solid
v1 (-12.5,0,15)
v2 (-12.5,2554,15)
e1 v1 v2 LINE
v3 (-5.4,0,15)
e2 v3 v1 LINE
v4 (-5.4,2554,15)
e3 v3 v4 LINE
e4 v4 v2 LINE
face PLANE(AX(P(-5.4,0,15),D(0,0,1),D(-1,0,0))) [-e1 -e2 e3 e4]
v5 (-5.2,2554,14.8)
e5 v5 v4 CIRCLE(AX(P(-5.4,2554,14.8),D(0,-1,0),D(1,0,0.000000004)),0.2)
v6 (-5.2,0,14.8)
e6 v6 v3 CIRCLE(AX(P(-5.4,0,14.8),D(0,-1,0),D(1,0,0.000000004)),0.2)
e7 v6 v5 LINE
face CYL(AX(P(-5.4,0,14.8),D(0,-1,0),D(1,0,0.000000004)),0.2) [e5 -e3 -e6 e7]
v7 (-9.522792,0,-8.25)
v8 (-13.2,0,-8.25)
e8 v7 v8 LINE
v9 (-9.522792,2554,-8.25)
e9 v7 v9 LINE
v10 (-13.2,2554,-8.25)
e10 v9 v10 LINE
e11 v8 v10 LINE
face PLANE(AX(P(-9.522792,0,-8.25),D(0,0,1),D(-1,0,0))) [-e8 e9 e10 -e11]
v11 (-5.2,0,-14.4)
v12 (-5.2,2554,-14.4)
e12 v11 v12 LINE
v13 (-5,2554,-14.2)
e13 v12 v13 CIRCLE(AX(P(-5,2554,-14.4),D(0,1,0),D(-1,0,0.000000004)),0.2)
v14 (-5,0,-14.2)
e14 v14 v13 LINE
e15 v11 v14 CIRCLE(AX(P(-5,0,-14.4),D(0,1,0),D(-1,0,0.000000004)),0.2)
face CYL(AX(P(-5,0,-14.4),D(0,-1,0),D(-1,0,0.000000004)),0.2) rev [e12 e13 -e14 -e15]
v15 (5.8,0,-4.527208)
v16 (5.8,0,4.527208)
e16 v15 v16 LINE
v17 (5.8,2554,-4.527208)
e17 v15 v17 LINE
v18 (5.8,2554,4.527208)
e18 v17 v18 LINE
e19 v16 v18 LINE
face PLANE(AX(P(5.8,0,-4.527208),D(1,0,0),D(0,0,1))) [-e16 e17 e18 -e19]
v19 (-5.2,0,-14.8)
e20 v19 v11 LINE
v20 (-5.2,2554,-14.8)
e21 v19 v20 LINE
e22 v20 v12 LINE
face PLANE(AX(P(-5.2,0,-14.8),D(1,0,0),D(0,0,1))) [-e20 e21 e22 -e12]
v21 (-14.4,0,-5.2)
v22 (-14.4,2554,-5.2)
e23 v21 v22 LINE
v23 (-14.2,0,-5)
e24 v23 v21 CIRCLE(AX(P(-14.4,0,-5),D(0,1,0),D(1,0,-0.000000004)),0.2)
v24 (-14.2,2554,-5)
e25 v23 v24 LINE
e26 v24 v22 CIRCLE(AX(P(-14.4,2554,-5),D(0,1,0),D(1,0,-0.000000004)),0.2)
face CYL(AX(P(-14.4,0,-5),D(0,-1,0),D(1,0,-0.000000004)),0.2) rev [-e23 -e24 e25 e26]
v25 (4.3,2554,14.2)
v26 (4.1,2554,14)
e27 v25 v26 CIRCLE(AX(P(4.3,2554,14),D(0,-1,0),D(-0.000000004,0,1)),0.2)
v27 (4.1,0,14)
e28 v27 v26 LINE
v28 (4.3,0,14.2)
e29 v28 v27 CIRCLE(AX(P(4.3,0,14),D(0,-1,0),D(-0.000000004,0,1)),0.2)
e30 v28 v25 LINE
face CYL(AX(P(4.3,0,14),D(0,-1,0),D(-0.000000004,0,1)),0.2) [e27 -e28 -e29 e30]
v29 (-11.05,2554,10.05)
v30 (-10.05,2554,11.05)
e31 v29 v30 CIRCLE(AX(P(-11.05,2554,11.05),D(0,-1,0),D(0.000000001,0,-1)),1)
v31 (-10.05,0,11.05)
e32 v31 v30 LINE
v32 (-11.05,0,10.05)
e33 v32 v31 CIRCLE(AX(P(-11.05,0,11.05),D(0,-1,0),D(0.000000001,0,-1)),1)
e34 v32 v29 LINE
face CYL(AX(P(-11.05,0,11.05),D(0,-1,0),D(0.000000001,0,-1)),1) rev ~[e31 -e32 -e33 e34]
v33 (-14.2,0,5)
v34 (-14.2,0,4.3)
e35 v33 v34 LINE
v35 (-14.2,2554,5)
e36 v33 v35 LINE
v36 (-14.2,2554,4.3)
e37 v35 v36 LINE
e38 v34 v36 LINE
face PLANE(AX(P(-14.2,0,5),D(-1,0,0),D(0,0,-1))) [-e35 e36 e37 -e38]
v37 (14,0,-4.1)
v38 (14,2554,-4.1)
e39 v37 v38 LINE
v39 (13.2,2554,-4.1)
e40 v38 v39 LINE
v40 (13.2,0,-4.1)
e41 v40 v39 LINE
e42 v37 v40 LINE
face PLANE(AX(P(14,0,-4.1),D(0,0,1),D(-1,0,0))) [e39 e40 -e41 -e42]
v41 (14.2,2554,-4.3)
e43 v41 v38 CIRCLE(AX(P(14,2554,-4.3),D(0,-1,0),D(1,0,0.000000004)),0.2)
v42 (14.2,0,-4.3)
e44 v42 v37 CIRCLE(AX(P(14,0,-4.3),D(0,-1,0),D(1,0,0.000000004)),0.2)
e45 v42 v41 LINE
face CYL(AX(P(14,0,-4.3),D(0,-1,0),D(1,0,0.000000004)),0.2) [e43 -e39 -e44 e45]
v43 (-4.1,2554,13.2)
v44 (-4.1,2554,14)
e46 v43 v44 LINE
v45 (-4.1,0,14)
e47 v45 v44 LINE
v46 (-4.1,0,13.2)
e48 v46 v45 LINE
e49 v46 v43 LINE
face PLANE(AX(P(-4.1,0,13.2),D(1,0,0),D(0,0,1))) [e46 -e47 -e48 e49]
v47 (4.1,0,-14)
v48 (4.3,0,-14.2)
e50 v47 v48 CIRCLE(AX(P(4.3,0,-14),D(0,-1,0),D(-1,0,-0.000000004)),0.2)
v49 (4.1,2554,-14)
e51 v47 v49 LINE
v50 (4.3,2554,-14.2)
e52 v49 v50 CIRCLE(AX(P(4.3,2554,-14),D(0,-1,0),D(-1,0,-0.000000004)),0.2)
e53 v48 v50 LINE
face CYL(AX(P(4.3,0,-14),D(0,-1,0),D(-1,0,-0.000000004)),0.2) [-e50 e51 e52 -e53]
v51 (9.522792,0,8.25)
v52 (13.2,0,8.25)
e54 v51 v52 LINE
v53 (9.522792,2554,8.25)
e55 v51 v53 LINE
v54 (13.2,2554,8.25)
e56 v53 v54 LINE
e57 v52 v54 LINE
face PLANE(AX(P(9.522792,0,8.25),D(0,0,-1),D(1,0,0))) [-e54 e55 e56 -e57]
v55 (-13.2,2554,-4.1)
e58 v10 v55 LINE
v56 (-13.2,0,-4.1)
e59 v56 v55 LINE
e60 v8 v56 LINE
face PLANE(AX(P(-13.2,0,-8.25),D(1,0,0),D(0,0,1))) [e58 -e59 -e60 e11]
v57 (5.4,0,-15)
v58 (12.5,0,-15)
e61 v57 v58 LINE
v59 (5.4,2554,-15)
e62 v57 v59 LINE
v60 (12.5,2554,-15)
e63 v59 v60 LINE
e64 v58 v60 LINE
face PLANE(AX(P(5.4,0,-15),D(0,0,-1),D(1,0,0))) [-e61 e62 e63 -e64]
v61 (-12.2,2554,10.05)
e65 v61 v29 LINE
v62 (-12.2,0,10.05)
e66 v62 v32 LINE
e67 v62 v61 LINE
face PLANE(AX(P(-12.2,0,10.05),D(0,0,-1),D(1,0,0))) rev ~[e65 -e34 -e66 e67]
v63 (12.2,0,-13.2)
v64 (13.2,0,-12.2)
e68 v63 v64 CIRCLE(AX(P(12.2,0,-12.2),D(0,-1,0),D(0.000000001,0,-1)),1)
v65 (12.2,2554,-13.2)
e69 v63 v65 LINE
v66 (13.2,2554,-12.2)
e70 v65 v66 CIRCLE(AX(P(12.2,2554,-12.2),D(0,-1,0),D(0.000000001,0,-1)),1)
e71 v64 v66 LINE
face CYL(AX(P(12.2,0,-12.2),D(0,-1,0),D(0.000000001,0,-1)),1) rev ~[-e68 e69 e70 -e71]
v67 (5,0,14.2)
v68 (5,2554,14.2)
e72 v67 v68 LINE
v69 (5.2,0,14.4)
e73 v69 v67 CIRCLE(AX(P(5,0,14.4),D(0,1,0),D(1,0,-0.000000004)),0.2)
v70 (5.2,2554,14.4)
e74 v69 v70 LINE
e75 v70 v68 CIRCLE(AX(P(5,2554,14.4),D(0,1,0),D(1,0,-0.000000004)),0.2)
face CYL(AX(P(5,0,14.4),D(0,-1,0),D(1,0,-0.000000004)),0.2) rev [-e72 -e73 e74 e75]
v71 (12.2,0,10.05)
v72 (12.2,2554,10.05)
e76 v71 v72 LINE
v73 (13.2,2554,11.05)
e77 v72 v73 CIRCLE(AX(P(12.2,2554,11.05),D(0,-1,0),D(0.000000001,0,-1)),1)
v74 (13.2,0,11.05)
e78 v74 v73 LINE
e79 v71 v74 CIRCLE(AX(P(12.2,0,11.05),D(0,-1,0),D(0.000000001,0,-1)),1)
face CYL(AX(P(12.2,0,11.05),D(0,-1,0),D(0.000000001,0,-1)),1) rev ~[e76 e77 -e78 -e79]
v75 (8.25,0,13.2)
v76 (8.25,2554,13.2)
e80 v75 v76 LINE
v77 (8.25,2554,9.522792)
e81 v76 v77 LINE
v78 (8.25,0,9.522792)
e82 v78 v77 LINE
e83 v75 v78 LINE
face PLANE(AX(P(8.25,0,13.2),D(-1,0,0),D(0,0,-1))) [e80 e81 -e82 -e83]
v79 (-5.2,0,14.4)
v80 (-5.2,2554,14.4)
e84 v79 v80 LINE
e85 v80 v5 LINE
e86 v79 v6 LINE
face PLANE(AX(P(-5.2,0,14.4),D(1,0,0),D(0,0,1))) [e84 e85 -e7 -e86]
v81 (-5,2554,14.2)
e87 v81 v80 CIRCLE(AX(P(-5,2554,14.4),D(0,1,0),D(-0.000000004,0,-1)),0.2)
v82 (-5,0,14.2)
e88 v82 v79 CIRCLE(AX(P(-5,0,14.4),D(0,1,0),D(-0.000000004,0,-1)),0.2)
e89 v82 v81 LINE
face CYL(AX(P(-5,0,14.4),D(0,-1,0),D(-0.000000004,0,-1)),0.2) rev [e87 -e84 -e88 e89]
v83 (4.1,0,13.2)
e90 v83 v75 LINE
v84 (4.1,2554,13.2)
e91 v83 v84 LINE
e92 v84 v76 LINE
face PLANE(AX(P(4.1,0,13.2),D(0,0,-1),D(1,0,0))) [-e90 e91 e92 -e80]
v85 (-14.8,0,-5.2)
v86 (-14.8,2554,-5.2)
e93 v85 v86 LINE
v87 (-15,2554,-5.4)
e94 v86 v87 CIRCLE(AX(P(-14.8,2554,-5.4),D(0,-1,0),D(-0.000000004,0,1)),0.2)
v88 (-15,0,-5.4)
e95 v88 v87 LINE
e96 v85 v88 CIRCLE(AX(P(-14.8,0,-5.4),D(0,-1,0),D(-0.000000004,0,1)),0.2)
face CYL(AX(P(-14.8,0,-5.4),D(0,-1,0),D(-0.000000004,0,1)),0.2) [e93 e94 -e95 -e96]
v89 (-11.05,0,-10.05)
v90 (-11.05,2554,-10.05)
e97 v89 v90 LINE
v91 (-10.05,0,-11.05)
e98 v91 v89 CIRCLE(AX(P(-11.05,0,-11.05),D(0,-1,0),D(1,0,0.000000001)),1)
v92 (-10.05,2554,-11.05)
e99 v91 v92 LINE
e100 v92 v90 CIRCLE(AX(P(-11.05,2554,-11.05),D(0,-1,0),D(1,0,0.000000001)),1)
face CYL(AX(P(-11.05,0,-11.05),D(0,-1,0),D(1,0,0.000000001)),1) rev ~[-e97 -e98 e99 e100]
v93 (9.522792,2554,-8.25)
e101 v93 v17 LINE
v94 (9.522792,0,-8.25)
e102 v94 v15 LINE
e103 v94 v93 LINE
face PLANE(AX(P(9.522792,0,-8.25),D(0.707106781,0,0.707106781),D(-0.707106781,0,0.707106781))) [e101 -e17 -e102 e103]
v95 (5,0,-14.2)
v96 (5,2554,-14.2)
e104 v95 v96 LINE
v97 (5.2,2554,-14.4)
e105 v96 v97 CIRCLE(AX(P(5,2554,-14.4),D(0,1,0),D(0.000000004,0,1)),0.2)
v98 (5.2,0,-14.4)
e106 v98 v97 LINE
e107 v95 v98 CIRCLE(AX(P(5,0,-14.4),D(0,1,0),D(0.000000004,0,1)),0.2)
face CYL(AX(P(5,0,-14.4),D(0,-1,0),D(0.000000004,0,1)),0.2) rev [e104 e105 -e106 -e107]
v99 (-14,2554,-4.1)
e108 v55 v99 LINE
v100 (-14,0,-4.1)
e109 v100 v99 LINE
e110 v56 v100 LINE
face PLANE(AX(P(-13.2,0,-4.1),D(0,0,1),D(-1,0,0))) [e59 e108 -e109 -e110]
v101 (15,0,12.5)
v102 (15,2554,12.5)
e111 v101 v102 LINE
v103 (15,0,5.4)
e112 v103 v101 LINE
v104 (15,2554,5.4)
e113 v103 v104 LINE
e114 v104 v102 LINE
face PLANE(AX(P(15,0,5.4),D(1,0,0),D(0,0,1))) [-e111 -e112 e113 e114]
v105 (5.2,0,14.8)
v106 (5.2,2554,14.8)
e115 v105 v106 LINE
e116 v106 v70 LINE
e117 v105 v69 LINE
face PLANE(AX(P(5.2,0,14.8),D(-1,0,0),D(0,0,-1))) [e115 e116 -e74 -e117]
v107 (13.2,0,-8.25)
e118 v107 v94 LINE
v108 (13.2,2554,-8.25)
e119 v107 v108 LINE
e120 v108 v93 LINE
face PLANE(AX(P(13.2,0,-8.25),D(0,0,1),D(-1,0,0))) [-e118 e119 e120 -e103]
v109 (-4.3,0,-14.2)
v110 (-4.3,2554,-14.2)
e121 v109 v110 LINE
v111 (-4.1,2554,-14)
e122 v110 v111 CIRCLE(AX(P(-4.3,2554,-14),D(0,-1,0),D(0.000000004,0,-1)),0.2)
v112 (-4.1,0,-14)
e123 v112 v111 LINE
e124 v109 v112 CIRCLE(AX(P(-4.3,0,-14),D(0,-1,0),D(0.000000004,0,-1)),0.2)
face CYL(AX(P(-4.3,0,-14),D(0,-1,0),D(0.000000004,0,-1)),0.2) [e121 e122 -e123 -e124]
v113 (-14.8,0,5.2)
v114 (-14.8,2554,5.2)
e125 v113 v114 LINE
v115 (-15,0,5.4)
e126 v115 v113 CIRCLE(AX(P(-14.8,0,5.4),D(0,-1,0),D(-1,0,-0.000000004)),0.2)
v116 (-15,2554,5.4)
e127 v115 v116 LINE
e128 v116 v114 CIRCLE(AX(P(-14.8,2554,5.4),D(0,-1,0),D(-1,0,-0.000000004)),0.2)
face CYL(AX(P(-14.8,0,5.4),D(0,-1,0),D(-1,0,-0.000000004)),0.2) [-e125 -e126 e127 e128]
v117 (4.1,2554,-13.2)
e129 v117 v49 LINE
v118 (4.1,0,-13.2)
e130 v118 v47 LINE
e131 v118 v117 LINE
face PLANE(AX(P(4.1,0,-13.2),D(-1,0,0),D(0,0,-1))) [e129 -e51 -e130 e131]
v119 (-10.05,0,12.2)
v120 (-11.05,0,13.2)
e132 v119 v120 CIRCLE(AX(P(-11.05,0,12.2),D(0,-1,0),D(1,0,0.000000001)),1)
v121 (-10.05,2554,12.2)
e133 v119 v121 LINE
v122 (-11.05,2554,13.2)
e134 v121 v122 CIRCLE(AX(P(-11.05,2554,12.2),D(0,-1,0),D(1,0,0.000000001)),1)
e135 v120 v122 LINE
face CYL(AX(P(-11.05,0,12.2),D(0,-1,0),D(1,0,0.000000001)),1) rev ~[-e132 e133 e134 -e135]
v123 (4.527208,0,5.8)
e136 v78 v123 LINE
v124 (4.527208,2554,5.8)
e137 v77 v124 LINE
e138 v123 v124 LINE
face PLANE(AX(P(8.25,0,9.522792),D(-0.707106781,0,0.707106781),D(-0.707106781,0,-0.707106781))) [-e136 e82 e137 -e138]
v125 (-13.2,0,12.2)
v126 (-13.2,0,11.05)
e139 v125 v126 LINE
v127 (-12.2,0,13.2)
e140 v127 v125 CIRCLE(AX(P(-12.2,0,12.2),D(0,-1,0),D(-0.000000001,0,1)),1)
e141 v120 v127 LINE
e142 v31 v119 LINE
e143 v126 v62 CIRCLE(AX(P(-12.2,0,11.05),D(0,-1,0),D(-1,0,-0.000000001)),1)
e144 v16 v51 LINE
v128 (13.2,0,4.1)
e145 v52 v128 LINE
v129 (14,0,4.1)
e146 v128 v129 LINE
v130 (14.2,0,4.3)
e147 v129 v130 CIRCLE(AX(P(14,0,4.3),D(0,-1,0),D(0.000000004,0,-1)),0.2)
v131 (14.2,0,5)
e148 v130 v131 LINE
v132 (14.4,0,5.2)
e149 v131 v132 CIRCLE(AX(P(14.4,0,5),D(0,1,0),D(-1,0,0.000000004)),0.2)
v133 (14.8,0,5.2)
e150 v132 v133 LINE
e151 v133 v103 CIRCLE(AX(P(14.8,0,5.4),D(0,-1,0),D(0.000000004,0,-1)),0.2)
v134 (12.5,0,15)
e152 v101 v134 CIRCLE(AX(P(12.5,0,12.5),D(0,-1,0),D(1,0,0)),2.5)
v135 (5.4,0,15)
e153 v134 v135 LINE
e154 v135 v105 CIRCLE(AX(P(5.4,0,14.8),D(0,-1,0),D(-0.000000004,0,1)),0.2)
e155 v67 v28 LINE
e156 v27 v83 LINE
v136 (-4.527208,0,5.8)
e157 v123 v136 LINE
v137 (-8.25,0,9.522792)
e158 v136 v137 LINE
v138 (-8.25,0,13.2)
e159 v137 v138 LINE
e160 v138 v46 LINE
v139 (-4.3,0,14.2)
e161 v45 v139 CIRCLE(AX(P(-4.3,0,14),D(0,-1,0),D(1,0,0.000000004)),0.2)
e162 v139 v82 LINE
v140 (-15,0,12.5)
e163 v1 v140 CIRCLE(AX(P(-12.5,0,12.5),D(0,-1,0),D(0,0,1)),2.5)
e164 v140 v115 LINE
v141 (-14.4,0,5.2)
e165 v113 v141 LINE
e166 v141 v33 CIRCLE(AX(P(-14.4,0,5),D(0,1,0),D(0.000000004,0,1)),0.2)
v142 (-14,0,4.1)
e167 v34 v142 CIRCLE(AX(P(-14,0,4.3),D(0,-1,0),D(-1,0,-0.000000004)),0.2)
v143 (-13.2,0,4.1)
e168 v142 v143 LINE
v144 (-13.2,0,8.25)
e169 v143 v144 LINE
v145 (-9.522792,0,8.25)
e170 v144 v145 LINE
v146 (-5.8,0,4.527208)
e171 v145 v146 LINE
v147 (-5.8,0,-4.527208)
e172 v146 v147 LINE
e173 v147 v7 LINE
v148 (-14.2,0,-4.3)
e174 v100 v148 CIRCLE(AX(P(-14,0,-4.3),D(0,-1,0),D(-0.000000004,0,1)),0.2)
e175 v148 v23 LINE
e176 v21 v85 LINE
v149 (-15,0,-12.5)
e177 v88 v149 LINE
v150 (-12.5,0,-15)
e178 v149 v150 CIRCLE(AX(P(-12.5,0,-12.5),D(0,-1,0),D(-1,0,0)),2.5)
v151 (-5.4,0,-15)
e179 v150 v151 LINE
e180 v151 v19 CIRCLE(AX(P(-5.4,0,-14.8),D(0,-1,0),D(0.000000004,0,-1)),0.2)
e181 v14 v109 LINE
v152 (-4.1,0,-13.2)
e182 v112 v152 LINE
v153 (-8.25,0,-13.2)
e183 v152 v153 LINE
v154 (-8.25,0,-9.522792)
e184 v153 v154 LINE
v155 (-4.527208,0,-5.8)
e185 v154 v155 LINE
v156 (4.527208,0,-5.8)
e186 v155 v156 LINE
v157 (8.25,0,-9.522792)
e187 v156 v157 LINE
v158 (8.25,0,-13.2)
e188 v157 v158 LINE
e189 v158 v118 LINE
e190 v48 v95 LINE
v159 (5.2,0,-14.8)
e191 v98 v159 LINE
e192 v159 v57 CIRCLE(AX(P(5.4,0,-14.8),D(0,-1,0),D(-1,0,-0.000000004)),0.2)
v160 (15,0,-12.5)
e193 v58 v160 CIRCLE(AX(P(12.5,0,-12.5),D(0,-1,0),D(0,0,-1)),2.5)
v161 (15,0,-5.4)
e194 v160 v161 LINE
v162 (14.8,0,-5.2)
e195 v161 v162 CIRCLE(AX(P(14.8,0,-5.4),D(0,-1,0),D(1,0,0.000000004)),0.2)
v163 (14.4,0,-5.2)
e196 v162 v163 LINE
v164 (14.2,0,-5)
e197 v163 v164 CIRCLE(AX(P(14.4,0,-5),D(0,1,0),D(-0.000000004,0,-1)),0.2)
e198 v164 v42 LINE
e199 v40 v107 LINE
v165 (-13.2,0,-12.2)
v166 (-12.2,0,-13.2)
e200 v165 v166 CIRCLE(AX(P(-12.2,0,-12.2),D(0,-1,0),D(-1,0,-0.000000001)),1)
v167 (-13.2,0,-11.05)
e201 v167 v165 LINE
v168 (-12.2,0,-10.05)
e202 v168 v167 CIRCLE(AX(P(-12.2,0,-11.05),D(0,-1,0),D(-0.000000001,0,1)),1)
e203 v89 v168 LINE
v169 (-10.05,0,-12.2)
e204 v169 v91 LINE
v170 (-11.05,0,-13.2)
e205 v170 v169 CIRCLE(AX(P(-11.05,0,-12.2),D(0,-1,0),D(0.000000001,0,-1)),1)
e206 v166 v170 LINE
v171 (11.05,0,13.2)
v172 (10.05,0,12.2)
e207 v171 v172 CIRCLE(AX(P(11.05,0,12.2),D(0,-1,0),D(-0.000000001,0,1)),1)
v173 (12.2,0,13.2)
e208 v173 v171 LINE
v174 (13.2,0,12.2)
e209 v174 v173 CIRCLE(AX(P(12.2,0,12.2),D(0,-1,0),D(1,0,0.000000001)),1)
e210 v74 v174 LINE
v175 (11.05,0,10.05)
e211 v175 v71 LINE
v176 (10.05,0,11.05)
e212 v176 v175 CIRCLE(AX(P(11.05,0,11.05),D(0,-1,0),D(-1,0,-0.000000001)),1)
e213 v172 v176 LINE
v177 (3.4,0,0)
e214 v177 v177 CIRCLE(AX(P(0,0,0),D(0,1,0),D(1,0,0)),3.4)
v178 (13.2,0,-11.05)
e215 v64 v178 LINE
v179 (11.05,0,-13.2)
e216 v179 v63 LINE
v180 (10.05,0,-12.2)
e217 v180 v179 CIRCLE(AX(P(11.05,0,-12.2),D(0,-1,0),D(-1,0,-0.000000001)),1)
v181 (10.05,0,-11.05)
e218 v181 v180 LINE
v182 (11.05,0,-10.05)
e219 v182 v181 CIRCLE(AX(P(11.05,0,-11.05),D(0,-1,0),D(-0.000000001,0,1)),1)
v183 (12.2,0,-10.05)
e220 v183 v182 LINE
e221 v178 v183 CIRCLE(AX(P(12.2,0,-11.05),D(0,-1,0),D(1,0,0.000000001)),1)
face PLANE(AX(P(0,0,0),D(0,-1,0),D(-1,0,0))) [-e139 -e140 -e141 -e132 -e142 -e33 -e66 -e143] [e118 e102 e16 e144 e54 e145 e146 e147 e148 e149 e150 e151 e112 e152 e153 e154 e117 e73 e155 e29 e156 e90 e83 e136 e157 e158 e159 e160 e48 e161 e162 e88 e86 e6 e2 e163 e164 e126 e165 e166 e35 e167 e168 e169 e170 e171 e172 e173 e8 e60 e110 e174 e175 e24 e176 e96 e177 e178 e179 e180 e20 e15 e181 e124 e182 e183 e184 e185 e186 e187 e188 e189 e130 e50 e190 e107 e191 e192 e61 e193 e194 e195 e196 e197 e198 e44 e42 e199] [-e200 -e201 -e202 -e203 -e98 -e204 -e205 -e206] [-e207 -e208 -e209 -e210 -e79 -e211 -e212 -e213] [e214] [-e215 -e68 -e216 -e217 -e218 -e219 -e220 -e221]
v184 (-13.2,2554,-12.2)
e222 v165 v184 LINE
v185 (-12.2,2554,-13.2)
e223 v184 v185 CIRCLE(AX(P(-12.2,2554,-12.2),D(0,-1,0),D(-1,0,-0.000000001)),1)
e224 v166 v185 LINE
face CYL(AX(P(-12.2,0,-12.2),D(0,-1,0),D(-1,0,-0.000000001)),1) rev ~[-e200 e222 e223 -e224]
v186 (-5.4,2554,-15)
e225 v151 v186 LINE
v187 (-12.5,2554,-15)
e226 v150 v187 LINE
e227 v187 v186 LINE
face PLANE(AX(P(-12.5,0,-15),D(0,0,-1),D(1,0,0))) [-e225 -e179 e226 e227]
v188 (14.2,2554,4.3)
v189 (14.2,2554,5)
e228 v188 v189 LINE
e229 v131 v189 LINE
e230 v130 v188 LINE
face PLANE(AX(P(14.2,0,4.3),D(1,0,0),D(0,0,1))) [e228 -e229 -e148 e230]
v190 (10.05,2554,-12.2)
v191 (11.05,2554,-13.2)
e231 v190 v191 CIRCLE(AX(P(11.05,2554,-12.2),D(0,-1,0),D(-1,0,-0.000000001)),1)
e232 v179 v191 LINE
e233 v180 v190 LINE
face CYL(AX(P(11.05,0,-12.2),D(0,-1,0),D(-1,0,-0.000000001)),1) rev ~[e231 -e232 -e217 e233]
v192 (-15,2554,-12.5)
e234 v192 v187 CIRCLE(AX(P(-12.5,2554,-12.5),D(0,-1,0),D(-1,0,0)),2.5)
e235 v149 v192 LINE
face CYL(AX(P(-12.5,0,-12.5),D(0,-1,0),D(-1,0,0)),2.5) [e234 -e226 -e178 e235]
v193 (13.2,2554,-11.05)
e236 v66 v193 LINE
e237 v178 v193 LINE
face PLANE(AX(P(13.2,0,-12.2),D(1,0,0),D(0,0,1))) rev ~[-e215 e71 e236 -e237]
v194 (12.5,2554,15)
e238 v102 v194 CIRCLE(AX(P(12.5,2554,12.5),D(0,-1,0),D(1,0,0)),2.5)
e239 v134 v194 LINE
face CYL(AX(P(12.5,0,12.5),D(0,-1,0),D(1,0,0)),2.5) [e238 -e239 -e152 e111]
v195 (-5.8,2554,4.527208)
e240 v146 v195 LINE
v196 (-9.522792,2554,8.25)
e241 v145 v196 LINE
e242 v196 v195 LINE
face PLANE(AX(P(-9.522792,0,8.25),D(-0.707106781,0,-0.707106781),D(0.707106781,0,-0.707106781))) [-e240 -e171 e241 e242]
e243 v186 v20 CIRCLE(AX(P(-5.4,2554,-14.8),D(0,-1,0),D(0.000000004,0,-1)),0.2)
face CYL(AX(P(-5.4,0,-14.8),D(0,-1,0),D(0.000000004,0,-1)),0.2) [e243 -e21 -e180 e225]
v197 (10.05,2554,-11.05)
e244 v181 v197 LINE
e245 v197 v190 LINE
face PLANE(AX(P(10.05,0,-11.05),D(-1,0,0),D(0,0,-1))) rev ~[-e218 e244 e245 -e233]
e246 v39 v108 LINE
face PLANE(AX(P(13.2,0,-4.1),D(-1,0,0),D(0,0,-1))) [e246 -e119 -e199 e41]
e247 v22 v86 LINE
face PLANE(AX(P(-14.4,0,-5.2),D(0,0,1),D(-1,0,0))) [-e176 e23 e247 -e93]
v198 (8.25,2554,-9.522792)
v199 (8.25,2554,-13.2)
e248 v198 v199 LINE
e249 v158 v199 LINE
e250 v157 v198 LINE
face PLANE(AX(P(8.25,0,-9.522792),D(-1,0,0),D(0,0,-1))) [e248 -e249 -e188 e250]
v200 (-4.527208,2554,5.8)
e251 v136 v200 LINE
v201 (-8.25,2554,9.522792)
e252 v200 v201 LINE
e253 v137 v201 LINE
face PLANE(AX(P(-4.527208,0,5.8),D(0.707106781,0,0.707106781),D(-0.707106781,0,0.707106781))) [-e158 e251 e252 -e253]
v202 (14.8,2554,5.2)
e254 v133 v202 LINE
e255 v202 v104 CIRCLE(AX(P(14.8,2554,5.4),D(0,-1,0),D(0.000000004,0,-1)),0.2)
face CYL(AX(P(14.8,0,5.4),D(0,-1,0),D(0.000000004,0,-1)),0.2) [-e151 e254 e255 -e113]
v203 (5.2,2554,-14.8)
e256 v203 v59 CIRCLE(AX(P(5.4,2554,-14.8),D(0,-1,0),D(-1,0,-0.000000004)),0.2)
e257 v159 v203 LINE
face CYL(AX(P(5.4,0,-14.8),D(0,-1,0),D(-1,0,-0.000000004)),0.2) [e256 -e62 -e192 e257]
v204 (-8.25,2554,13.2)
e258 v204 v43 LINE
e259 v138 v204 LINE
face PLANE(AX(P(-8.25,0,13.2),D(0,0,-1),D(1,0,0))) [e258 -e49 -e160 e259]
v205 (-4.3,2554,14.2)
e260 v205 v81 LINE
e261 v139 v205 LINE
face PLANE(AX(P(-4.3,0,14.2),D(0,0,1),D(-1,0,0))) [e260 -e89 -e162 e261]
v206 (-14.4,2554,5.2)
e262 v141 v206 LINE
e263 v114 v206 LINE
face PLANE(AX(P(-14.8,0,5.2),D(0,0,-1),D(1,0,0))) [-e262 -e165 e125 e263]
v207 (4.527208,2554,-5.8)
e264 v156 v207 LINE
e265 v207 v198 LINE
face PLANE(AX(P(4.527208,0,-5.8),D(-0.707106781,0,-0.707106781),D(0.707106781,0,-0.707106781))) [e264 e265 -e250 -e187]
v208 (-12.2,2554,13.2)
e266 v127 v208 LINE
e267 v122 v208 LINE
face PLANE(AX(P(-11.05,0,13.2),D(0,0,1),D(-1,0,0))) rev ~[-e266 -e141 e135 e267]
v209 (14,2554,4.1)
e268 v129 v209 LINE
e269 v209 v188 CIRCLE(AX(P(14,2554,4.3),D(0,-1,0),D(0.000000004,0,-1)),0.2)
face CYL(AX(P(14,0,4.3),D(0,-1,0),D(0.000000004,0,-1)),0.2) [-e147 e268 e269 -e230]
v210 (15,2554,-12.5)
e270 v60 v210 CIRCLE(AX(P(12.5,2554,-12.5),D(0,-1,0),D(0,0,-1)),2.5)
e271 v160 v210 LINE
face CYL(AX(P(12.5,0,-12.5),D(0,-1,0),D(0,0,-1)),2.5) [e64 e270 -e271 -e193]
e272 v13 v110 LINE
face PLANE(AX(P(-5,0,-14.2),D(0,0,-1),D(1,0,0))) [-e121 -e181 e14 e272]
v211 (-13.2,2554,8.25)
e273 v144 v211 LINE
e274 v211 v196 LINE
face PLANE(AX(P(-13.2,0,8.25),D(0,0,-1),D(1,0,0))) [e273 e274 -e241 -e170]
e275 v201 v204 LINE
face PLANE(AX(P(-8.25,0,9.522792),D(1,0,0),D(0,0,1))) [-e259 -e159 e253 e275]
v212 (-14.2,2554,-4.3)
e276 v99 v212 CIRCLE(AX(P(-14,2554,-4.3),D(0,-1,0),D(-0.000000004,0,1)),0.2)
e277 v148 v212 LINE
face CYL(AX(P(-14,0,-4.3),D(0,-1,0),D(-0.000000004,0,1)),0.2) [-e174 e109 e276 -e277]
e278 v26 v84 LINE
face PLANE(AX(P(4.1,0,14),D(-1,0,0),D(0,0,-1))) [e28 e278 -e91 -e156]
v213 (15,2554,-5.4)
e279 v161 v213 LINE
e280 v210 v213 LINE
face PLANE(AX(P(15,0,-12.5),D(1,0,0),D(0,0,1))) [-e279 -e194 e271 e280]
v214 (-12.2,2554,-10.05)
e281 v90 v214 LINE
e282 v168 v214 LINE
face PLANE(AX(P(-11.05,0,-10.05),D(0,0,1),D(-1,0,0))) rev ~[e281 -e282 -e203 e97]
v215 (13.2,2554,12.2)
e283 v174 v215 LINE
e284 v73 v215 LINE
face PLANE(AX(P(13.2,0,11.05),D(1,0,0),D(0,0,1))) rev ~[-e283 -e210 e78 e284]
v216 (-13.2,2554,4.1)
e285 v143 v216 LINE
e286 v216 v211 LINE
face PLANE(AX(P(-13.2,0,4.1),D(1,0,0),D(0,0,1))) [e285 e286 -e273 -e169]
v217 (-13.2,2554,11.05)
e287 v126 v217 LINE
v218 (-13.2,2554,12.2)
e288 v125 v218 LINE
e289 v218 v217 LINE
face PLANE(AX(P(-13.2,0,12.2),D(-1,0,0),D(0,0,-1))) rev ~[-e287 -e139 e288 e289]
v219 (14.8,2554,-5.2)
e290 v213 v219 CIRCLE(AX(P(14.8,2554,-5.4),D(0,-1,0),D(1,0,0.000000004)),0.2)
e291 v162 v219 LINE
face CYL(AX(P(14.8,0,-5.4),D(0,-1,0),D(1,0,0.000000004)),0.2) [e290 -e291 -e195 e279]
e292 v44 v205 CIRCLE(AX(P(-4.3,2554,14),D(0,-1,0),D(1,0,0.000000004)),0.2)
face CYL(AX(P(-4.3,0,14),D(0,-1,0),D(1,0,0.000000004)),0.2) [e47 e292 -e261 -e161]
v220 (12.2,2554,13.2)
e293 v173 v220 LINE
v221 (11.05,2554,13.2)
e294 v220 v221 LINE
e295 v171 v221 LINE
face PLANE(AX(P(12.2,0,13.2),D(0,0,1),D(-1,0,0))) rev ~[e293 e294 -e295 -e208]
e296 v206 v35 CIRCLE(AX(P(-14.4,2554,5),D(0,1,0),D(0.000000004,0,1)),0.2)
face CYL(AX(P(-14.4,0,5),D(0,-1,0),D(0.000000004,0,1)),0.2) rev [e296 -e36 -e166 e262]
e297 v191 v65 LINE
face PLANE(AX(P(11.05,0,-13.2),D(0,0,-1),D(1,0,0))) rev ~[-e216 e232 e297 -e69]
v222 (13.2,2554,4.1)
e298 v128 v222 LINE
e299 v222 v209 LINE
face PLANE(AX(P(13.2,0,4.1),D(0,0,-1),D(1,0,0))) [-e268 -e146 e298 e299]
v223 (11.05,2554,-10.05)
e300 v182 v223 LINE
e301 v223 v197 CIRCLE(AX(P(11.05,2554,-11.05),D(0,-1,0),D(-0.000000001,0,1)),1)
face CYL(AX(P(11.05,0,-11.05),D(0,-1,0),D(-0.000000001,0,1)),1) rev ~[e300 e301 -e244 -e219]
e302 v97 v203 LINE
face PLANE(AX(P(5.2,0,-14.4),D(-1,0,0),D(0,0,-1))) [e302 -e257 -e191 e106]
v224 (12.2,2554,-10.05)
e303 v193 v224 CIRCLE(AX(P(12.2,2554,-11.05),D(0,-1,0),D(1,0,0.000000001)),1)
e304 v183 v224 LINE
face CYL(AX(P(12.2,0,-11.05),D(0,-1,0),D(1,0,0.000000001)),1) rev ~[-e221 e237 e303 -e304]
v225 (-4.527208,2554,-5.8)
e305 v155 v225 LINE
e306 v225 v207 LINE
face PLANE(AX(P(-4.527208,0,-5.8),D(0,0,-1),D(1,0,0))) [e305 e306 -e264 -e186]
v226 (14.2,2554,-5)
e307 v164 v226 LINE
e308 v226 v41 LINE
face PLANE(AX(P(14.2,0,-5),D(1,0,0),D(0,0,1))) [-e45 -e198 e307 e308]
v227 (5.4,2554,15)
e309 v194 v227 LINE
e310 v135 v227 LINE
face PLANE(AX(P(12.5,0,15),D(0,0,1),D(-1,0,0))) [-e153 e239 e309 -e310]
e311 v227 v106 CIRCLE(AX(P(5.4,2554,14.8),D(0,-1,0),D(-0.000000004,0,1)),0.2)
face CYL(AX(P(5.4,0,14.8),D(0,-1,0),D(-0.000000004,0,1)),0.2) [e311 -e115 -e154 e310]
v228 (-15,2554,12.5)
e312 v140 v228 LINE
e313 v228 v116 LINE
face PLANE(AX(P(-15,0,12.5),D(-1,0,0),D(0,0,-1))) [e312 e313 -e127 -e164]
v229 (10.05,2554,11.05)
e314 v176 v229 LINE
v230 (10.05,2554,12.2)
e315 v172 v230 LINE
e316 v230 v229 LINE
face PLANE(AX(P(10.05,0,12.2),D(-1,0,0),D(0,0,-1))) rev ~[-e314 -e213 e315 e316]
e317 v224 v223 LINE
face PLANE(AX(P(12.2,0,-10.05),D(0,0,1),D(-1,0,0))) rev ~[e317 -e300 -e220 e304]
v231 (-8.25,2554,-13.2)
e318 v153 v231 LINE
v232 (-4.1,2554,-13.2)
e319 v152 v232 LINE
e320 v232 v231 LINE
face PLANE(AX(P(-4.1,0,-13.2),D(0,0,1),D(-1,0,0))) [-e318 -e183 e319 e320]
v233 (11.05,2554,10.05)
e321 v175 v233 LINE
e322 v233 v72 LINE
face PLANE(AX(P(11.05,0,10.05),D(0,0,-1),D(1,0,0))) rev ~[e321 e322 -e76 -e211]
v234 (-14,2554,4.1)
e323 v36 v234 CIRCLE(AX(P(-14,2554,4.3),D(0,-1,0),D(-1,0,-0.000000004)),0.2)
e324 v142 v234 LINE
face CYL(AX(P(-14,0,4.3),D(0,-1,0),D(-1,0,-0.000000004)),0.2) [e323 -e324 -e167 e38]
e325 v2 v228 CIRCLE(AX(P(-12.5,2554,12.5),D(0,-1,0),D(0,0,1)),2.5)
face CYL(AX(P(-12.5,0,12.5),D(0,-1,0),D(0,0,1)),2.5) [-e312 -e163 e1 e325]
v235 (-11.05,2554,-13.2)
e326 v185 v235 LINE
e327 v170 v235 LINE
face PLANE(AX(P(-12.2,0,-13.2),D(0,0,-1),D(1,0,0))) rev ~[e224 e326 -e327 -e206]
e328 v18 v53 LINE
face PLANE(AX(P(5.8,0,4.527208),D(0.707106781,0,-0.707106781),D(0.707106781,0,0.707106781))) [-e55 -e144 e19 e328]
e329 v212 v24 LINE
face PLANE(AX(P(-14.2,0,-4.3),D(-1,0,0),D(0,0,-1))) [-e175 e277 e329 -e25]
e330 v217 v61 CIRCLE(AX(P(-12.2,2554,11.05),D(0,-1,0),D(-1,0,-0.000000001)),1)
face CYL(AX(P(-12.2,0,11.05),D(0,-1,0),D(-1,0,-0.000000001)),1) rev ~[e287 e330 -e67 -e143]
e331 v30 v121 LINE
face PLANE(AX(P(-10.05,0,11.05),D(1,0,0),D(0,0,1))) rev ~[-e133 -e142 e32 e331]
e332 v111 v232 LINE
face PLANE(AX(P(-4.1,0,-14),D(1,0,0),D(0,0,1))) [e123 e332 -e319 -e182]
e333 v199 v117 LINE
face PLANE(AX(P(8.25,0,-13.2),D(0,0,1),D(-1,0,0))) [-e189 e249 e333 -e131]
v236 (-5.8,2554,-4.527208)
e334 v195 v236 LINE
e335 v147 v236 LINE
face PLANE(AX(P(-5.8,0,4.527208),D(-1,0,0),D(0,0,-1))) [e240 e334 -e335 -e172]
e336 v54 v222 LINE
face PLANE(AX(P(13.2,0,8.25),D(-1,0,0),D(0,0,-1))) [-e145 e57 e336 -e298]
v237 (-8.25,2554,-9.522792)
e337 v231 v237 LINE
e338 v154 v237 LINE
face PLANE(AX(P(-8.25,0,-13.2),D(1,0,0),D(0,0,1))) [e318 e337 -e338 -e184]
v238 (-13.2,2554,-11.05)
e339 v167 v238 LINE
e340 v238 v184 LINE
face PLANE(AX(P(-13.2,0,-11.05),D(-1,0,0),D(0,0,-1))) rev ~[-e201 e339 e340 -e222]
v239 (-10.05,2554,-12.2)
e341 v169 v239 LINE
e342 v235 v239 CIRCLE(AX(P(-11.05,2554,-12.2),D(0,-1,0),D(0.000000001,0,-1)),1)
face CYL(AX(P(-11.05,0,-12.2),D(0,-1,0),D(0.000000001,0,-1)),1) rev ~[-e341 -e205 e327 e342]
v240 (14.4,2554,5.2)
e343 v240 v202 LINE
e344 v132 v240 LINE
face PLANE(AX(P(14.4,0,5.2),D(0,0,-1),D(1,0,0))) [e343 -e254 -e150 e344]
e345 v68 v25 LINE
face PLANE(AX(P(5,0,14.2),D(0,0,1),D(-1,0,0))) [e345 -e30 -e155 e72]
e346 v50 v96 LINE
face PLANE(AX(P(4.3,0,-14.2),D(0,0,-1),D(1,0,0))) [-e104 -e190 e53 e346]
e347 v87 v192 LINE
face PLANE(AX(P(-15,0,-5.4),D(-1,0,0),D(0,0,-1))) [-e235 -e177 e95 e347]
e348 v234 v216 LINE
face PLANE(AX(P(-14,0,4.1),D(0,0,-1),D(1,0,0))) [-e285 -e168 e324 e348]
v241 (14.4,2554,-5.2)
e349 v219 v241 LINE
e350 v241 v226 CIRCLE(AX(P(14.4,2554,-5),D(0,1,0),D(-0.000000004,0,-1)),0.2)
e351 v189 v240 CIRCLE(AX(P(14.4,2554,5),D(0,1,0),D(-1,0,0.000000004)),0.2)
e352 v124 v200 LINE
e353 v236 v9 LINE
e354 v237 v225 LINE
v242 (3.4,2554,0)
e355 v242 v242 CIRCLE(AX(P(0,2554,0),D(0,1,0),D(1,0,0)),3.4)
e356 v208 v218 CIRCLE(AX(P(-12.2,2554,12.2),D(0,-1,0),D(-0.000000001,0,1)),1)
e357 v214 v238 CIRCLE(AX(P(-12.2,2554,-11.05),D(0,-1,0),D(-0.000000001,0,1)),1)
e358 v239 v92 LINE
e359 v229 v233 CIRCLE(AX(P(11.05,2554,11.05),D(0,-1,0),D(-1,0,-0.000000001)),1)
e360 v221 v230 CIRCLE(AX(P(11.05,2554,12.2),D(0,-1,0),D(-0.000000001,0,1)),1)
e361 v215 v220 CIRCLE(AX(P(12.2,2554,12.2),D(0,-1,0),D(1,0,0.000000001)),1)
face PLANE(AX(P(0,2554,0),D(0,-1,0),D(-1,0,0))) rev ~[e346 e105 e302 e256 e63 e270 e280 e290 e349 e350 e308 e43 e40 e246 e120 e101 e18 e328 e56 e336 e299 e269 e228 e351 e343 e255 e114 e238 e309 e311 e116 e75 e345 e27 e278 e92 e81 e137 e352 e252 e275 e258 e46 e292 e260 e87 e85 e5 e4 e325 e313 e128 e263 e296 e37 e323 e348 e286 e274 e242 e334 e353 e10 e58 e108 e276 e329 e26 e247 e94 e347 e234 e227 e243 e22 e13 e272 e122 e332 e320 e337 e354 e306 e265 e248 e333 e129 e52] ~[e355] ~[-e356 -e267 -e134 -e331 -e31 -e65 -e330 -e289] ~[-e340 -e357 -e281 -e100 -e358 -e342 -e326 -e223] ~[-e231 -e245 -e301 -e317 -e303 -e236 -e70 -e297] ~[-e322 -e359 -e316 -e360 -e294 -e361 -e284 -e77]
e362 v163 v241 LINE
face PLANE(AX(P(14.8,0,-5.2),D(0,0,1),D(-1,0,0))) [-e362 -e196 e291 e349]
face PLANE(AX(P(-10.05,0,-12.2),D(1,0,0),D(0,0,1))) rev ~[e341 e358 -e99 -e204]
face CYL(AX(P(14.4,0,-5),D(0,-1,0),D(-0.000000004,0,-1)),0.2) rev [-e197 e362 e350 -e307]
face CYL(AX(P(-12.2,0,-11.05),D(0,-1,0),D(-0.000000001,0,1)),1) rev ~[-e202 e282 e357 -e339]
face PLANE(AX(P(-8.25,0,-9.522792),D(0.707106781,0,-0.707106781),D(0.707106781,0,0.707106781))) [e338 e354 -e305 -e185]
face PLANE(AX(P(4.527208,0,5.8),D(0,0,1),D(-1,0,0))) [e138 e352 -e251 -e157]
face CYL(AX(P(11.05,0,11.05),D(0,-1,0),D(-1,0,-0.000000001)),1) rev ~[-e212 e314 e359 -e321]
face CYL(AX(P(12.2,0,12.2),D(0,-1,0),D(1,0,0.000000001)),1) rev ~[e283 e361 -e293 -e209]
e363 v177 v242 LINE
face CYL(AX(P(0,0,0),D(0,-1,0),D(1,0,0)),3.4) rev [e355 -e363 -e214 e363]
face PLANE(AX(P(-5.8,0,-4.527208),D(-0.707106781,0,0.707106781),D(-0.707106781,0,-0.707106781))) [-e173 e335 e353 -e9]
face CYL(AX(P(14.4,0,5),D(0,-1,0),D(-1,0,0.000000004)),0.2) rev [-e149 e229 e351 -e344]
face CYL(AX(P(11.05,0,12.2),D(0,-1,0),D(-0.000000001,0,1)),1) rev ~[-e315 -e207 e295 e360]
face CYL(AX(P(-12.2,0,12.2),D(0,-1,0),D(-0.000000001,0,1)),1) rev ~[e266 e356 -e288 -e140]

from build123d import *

# Parameters (mm, degrees)
SKETCH_3_R      = 3.4
EXTRUDE_1_DEPTH = 2554


with BuildPart() as part:
    # 草图3 → 凸台-拉伸1 (new body)
    with BuildSketch(Plane(origin=(0, 0, 0), x_dir=(1, 0, 0), z_dir=(0, 1, 0))):
        with BuildLine():
            Line((-15, -12.5), (-15, -5.4))
            ThreePointArc((-15, -5.4), (-14.941421356, -5.258578644), (-14.8, -5.2))
            Line((-14.8, -5.2), (-14.4, -5.2))
            ThreePointArc((-14.4, -5.2), (-14.258578644, -5.141421356), (-14.2, -5))
            Line((-14.2, -5), (-14.2, -4.3))
            ThreePointArc((-14.2, -4.3), (-14.141421356, -4.158578644), (-14, -4.1))
            Line((-14, -4.1), (-13.2, -4.1))
            Line((-13.2, -4.1), (-13.2, -8.25))
            Line((-13.2, -8.25), (-9.522792206, -8.25))
            Line((-9.522792206, -8.25), (-5.8, -4.527207794))
            Line((-5.8, -4.527207794), (-5.8, 4.527207794))
            Line((-5.8, 4.527207794), (-9.522792206, 8.25))
            Line((-9.522792206, 8.25), (-13.2, 8.25))
            Line((-13.2, 8.25), (-13.2, 4.1))
            Line((-13.2, 4.1), (-14, 4.1))
            ThreePointArc((-14, 4.1), (-14.141421356, 4.158578644), (-14.2, 4.3))
            Line((-14.2, 4.3), (-14.2, 5))
            ThreePointArc((-14.2, 5), (-14.258578644, 5.141421356), (-14.4, 5.2))
            Line((-14.4, 5.2), (-14.8, 5.2))
            ThreePointArc((-14.8, 5.2), (-14.941421356, 5.258578644), (-15, 5.4))
            Line((-15, 5.4), (-15, 12.5))
            ThreePointArc((-15, 12.5), (-14.267766953, 14.267766953), (-12.5, 15))
            Line((-12.5, 15), (-5.4, 15))
            ThreePointArc((-5.4, 15), (-5.258578644, 14.941421356), (-5.2, 14.8))
            Line((-5.2, 14.8), (-5.2, 14.4))
            ThreePointArc((-5.2, 14.4), (-5.141421356, 14.258578644), (-5, 14.2))
            Line((-5, 14.2), (-4.3, 14.2))
            ThreePointArc((-4.3, 14.2), (-4.158578644, 14.141421356), (-4.1, 14))
            Line((-4.1, 14), (-4.1, 13.2))
            Line((-4.1, 13.2), (-8.25, 13.2))
            Line((-8.25, 13.2), (-8.25, 9.522792206))
            Line((-8.25, 9.522792206), (-4.527207794, 5.8))
            Line((-4.527207794, 5.8), (4.527207794, 5.8))
            Line((4.527207794, 5.8), (8.25, 9.522792206))
            Line((8.25, 9.522792206), (8.25, 13.2))
            Line((8.25, 13.2), (4.1, 13.2))
            Line((4.1, 13.2), (4.1, 14))
            ThreePointArc((4.1, 14), (4.158578644, 14.141421356), (4.3, 14.2))
            Line((4.3, 14.2), (5, 14.2))
            ThreePointArc((5, 14.2), (5.141421356, 14.258578644), (5.2, 14.4))
            Line((5.2, 14.4), (5.2, 14.8))
            ThreePointArc((5.2, 14.8), (5.258578644, 14.941421356), (5.4, 15))
            Line((5.4, 15), (12.5, 15))
            ThreePointArc((12.5, 15), (14.267766953, 14.267766953), (15, 12.5))
            Line((15, 12.5), (15, 5.4))
            ThreePointArc((15, 5.4), (14.941421356, 5.258578644), (14.8, 5.2))
            Line((14.8, 5.2), (14.4, 5.2))
            ThreePointArc((14.4, 5.2), (14.258578644, 5.141421356), (14.2, 5))
            Line((14.2, 5), (14.2, 4.3))
            ThreePointArc((14.2, 4.3), (14.141421356, 4.158578644), (14, 4.1))
            Line((14, 4.1), (13.2, 4.1))
            Line((13.2, 4.1), (13.2, 8.25))
            Line((13.2, 8.25), (9.522792206, 8.25))
            Line((9.522792206, 8.25), (5.8, 4.527207794))
            Line((5.8, 4.527207794), (5.8, -4.527207794))
            Line((5.8, -4.527207794), (9.522792206, -8.25))
            Line((9.522792206, -8.25), (13.2, -8.25))
            Line((13.2, -8.25), (13.2, -4.1))
            Line((13.2, -4.1), (14, -4.1))
            ThreePointArc((14, -4.1), (14.141421356, -4.158578644), (14.2, -4.3))
            Line((14.2, -4.3), (14.2, -5))
            ThreePointArc((14.2, -5), (14.258578644, -5.141421356), (14.4, -5.2))
            Line((14.4, -5.2), (14.8, -5.2))
            ThreePointArc((14.8, -5.2), (14.941421356, -5.258578644), (15, -5.4))
            Line((15, -5.4), (15, -12.5))
            ThreePointArc((15, -12.5), (14.267766953, -14.267766953), (12.5, -15))
            Line((12.5, -15), (5.4, -15))
            ThreePointArc((5.4, -15), (5.258578644, -14.941421356), (5.2, -14.8))
            Line((5.2, -14.8), (5.2, -14.4))
            ThreePointArc((5.2, -14.4), (5.141421356, -14.258578644), (5, -14.2))
            Line((5, -14.2), (4.3, -14.2))
            ThreePointArc((4.3, -14.2), (4.158578644, -14.141421356), (4.1, -14))
            Line((4.1, -14), (4.1, -13.2))
            Line((4.1, -13.2), (8.25, -13.2))
            Line((8.25, -13.2), (8.25, -9.522792206))
            Line((8.25, -9.522792206), (4.527207794, -5.8))
            Line((4.527207794, -5.8), (-4.527207794, -5.8))
            Line((-4.527207794, -5.8), (-8.25, -9.522792206))
            Line((-8.25, -9.522792206), (-8.25, -13.2))
            Line((-8.25, -13.2), (-4.1, -13.2))
            Line((-4.1, -13.2), (-4.1, -14))
            ThreePointArc((-4.1, -14), (-4.158578644, -14.141421356), (-4.3, -14.2))
            Line((-4.3, -14.2), (-5, -14.2))
            ThreePointArc((-5, -14.2), (-5.141421356, -14.258578644), (-5.2, -14.4))
            Line((-5.2, -14.4), (-5.2, -14.8))
            ThreePointArc((-5.2, -14.8), (-5.258578644, -14.941421356), (-5.4, -15))
            Line((-5.4, -15), (-12.5, -15))
            ThreePointArc((-12.5, -15), (-14.267766953, -14.267766953), (-15, -12.5))
        make_face()
        Circle(SKETCH_3_R, mode=Mode.SUBTRACT)
        with BuildLine():
            Line((-13.2, -12.2), (-13.2, -11.05))
            ThreePointArc((-13.2, -11.05), (-12.907106781, -10.342893219), (-12.2, -10.05))
            Line((-12.2, -10.05), (-11.05, -10.05))
            ThreePointArc((-11.05, -10.05), (-10.342893219, -10.342893219), (-10.05, -11.05))
            Line((-10.05, -11.05), (-10.05, -12.2))
            ThreePointArc((-10.05, -12.2), (-10.342893219, -12.907106781), (-11.05, -13.2))
            Line((-11.05, -13.2), (-12.2, -13.2))
            ThreePointArc((-12.2, -13.2), (-12.907106781, -12.907106781), (-13.2, -12.2))
        make_face(mode=Mode.SUBTRACT)
        with BuildLine():
            Line((-10.05, 12.2), (-10.05, 11.05))
            ThreePointArc((-10.05, 11.05), (-10.342893219, 10.342893219), (-11.05, 10.05))
            Line((-11.05, 10.05), (-12.2, 10.05))
            ThreePointArc((-12.2, 10.05), (-12.907106781, 10.342893219), (-13.2, 11.05))
            Line((-13.2, 11.05), (-13.2, 12.2))
            ThreePointArc((-13.2, 12.2), (-12.907106781, 12.907106781), (-12.2, 13.2))
            Line((-12.2, 13.2), (-11.05, 13.2))
            ThreePointArc((-11.05, 13.2), (-10.342893219, 12.907106781), (-10.05, 12.2))
        make_face(mode=Mode.SUBTRACT)
        with BuildLine():
            Line((13.2, 12.2), (13.2, 11.05))
            ThreePointArc((13.2, 11.05), (12.907106781, 10.342893219), (12.2, 10.05))
            Line((12.2, 10.05), (11.05, 10.05))
            ThreePointArc((11.05, 10.05), (10.342893219, 10.342893219), (10.05, 11.05))
            Line((10.05, 11.05), (10.05, 12.2))
            ThreePointArc((10.05, 12.2), (10.342893219, 12.907106781), (11.05, 13.2))
            Line((11.05, 13.2), (12.2, 13.2))
            ThreePointArc((12.2, 13.2), (12.907106781, 12.907106781), (13.2, 12.2))
        make_face(mode=Mode.SUBTRACT)
        with BuildLine():
            Line((10.05, -12.2), (10.05, -11.05))
            ThreePointArc((10.05, -11.05), (10.342893219, -10.342893219), (11.05, -10.05))
            Line((11.05, -10.05), (12.2, -10.05))
            ThreePointArc((12.2, -10.05), (12.907106781, -10.342893219), (13.2, -11.05))
            Line((13.2, -11.05), (13.2, -12.2))
            ThreePointArc((13.2, -12.2), (12.907106781, -12.907106781), (12.2, -13.2))
            Line((12.2, -13.2), (11.05, -13.2))
            ThreePointArc((11.05, -13.2), (10.342893219, -12.907106781), (10.05, -12.2))
        make_face(mode=Mode.SUBTRACT)
    extrude(amount=EXTRUDE_1_DEPTH)


solid = part.part
